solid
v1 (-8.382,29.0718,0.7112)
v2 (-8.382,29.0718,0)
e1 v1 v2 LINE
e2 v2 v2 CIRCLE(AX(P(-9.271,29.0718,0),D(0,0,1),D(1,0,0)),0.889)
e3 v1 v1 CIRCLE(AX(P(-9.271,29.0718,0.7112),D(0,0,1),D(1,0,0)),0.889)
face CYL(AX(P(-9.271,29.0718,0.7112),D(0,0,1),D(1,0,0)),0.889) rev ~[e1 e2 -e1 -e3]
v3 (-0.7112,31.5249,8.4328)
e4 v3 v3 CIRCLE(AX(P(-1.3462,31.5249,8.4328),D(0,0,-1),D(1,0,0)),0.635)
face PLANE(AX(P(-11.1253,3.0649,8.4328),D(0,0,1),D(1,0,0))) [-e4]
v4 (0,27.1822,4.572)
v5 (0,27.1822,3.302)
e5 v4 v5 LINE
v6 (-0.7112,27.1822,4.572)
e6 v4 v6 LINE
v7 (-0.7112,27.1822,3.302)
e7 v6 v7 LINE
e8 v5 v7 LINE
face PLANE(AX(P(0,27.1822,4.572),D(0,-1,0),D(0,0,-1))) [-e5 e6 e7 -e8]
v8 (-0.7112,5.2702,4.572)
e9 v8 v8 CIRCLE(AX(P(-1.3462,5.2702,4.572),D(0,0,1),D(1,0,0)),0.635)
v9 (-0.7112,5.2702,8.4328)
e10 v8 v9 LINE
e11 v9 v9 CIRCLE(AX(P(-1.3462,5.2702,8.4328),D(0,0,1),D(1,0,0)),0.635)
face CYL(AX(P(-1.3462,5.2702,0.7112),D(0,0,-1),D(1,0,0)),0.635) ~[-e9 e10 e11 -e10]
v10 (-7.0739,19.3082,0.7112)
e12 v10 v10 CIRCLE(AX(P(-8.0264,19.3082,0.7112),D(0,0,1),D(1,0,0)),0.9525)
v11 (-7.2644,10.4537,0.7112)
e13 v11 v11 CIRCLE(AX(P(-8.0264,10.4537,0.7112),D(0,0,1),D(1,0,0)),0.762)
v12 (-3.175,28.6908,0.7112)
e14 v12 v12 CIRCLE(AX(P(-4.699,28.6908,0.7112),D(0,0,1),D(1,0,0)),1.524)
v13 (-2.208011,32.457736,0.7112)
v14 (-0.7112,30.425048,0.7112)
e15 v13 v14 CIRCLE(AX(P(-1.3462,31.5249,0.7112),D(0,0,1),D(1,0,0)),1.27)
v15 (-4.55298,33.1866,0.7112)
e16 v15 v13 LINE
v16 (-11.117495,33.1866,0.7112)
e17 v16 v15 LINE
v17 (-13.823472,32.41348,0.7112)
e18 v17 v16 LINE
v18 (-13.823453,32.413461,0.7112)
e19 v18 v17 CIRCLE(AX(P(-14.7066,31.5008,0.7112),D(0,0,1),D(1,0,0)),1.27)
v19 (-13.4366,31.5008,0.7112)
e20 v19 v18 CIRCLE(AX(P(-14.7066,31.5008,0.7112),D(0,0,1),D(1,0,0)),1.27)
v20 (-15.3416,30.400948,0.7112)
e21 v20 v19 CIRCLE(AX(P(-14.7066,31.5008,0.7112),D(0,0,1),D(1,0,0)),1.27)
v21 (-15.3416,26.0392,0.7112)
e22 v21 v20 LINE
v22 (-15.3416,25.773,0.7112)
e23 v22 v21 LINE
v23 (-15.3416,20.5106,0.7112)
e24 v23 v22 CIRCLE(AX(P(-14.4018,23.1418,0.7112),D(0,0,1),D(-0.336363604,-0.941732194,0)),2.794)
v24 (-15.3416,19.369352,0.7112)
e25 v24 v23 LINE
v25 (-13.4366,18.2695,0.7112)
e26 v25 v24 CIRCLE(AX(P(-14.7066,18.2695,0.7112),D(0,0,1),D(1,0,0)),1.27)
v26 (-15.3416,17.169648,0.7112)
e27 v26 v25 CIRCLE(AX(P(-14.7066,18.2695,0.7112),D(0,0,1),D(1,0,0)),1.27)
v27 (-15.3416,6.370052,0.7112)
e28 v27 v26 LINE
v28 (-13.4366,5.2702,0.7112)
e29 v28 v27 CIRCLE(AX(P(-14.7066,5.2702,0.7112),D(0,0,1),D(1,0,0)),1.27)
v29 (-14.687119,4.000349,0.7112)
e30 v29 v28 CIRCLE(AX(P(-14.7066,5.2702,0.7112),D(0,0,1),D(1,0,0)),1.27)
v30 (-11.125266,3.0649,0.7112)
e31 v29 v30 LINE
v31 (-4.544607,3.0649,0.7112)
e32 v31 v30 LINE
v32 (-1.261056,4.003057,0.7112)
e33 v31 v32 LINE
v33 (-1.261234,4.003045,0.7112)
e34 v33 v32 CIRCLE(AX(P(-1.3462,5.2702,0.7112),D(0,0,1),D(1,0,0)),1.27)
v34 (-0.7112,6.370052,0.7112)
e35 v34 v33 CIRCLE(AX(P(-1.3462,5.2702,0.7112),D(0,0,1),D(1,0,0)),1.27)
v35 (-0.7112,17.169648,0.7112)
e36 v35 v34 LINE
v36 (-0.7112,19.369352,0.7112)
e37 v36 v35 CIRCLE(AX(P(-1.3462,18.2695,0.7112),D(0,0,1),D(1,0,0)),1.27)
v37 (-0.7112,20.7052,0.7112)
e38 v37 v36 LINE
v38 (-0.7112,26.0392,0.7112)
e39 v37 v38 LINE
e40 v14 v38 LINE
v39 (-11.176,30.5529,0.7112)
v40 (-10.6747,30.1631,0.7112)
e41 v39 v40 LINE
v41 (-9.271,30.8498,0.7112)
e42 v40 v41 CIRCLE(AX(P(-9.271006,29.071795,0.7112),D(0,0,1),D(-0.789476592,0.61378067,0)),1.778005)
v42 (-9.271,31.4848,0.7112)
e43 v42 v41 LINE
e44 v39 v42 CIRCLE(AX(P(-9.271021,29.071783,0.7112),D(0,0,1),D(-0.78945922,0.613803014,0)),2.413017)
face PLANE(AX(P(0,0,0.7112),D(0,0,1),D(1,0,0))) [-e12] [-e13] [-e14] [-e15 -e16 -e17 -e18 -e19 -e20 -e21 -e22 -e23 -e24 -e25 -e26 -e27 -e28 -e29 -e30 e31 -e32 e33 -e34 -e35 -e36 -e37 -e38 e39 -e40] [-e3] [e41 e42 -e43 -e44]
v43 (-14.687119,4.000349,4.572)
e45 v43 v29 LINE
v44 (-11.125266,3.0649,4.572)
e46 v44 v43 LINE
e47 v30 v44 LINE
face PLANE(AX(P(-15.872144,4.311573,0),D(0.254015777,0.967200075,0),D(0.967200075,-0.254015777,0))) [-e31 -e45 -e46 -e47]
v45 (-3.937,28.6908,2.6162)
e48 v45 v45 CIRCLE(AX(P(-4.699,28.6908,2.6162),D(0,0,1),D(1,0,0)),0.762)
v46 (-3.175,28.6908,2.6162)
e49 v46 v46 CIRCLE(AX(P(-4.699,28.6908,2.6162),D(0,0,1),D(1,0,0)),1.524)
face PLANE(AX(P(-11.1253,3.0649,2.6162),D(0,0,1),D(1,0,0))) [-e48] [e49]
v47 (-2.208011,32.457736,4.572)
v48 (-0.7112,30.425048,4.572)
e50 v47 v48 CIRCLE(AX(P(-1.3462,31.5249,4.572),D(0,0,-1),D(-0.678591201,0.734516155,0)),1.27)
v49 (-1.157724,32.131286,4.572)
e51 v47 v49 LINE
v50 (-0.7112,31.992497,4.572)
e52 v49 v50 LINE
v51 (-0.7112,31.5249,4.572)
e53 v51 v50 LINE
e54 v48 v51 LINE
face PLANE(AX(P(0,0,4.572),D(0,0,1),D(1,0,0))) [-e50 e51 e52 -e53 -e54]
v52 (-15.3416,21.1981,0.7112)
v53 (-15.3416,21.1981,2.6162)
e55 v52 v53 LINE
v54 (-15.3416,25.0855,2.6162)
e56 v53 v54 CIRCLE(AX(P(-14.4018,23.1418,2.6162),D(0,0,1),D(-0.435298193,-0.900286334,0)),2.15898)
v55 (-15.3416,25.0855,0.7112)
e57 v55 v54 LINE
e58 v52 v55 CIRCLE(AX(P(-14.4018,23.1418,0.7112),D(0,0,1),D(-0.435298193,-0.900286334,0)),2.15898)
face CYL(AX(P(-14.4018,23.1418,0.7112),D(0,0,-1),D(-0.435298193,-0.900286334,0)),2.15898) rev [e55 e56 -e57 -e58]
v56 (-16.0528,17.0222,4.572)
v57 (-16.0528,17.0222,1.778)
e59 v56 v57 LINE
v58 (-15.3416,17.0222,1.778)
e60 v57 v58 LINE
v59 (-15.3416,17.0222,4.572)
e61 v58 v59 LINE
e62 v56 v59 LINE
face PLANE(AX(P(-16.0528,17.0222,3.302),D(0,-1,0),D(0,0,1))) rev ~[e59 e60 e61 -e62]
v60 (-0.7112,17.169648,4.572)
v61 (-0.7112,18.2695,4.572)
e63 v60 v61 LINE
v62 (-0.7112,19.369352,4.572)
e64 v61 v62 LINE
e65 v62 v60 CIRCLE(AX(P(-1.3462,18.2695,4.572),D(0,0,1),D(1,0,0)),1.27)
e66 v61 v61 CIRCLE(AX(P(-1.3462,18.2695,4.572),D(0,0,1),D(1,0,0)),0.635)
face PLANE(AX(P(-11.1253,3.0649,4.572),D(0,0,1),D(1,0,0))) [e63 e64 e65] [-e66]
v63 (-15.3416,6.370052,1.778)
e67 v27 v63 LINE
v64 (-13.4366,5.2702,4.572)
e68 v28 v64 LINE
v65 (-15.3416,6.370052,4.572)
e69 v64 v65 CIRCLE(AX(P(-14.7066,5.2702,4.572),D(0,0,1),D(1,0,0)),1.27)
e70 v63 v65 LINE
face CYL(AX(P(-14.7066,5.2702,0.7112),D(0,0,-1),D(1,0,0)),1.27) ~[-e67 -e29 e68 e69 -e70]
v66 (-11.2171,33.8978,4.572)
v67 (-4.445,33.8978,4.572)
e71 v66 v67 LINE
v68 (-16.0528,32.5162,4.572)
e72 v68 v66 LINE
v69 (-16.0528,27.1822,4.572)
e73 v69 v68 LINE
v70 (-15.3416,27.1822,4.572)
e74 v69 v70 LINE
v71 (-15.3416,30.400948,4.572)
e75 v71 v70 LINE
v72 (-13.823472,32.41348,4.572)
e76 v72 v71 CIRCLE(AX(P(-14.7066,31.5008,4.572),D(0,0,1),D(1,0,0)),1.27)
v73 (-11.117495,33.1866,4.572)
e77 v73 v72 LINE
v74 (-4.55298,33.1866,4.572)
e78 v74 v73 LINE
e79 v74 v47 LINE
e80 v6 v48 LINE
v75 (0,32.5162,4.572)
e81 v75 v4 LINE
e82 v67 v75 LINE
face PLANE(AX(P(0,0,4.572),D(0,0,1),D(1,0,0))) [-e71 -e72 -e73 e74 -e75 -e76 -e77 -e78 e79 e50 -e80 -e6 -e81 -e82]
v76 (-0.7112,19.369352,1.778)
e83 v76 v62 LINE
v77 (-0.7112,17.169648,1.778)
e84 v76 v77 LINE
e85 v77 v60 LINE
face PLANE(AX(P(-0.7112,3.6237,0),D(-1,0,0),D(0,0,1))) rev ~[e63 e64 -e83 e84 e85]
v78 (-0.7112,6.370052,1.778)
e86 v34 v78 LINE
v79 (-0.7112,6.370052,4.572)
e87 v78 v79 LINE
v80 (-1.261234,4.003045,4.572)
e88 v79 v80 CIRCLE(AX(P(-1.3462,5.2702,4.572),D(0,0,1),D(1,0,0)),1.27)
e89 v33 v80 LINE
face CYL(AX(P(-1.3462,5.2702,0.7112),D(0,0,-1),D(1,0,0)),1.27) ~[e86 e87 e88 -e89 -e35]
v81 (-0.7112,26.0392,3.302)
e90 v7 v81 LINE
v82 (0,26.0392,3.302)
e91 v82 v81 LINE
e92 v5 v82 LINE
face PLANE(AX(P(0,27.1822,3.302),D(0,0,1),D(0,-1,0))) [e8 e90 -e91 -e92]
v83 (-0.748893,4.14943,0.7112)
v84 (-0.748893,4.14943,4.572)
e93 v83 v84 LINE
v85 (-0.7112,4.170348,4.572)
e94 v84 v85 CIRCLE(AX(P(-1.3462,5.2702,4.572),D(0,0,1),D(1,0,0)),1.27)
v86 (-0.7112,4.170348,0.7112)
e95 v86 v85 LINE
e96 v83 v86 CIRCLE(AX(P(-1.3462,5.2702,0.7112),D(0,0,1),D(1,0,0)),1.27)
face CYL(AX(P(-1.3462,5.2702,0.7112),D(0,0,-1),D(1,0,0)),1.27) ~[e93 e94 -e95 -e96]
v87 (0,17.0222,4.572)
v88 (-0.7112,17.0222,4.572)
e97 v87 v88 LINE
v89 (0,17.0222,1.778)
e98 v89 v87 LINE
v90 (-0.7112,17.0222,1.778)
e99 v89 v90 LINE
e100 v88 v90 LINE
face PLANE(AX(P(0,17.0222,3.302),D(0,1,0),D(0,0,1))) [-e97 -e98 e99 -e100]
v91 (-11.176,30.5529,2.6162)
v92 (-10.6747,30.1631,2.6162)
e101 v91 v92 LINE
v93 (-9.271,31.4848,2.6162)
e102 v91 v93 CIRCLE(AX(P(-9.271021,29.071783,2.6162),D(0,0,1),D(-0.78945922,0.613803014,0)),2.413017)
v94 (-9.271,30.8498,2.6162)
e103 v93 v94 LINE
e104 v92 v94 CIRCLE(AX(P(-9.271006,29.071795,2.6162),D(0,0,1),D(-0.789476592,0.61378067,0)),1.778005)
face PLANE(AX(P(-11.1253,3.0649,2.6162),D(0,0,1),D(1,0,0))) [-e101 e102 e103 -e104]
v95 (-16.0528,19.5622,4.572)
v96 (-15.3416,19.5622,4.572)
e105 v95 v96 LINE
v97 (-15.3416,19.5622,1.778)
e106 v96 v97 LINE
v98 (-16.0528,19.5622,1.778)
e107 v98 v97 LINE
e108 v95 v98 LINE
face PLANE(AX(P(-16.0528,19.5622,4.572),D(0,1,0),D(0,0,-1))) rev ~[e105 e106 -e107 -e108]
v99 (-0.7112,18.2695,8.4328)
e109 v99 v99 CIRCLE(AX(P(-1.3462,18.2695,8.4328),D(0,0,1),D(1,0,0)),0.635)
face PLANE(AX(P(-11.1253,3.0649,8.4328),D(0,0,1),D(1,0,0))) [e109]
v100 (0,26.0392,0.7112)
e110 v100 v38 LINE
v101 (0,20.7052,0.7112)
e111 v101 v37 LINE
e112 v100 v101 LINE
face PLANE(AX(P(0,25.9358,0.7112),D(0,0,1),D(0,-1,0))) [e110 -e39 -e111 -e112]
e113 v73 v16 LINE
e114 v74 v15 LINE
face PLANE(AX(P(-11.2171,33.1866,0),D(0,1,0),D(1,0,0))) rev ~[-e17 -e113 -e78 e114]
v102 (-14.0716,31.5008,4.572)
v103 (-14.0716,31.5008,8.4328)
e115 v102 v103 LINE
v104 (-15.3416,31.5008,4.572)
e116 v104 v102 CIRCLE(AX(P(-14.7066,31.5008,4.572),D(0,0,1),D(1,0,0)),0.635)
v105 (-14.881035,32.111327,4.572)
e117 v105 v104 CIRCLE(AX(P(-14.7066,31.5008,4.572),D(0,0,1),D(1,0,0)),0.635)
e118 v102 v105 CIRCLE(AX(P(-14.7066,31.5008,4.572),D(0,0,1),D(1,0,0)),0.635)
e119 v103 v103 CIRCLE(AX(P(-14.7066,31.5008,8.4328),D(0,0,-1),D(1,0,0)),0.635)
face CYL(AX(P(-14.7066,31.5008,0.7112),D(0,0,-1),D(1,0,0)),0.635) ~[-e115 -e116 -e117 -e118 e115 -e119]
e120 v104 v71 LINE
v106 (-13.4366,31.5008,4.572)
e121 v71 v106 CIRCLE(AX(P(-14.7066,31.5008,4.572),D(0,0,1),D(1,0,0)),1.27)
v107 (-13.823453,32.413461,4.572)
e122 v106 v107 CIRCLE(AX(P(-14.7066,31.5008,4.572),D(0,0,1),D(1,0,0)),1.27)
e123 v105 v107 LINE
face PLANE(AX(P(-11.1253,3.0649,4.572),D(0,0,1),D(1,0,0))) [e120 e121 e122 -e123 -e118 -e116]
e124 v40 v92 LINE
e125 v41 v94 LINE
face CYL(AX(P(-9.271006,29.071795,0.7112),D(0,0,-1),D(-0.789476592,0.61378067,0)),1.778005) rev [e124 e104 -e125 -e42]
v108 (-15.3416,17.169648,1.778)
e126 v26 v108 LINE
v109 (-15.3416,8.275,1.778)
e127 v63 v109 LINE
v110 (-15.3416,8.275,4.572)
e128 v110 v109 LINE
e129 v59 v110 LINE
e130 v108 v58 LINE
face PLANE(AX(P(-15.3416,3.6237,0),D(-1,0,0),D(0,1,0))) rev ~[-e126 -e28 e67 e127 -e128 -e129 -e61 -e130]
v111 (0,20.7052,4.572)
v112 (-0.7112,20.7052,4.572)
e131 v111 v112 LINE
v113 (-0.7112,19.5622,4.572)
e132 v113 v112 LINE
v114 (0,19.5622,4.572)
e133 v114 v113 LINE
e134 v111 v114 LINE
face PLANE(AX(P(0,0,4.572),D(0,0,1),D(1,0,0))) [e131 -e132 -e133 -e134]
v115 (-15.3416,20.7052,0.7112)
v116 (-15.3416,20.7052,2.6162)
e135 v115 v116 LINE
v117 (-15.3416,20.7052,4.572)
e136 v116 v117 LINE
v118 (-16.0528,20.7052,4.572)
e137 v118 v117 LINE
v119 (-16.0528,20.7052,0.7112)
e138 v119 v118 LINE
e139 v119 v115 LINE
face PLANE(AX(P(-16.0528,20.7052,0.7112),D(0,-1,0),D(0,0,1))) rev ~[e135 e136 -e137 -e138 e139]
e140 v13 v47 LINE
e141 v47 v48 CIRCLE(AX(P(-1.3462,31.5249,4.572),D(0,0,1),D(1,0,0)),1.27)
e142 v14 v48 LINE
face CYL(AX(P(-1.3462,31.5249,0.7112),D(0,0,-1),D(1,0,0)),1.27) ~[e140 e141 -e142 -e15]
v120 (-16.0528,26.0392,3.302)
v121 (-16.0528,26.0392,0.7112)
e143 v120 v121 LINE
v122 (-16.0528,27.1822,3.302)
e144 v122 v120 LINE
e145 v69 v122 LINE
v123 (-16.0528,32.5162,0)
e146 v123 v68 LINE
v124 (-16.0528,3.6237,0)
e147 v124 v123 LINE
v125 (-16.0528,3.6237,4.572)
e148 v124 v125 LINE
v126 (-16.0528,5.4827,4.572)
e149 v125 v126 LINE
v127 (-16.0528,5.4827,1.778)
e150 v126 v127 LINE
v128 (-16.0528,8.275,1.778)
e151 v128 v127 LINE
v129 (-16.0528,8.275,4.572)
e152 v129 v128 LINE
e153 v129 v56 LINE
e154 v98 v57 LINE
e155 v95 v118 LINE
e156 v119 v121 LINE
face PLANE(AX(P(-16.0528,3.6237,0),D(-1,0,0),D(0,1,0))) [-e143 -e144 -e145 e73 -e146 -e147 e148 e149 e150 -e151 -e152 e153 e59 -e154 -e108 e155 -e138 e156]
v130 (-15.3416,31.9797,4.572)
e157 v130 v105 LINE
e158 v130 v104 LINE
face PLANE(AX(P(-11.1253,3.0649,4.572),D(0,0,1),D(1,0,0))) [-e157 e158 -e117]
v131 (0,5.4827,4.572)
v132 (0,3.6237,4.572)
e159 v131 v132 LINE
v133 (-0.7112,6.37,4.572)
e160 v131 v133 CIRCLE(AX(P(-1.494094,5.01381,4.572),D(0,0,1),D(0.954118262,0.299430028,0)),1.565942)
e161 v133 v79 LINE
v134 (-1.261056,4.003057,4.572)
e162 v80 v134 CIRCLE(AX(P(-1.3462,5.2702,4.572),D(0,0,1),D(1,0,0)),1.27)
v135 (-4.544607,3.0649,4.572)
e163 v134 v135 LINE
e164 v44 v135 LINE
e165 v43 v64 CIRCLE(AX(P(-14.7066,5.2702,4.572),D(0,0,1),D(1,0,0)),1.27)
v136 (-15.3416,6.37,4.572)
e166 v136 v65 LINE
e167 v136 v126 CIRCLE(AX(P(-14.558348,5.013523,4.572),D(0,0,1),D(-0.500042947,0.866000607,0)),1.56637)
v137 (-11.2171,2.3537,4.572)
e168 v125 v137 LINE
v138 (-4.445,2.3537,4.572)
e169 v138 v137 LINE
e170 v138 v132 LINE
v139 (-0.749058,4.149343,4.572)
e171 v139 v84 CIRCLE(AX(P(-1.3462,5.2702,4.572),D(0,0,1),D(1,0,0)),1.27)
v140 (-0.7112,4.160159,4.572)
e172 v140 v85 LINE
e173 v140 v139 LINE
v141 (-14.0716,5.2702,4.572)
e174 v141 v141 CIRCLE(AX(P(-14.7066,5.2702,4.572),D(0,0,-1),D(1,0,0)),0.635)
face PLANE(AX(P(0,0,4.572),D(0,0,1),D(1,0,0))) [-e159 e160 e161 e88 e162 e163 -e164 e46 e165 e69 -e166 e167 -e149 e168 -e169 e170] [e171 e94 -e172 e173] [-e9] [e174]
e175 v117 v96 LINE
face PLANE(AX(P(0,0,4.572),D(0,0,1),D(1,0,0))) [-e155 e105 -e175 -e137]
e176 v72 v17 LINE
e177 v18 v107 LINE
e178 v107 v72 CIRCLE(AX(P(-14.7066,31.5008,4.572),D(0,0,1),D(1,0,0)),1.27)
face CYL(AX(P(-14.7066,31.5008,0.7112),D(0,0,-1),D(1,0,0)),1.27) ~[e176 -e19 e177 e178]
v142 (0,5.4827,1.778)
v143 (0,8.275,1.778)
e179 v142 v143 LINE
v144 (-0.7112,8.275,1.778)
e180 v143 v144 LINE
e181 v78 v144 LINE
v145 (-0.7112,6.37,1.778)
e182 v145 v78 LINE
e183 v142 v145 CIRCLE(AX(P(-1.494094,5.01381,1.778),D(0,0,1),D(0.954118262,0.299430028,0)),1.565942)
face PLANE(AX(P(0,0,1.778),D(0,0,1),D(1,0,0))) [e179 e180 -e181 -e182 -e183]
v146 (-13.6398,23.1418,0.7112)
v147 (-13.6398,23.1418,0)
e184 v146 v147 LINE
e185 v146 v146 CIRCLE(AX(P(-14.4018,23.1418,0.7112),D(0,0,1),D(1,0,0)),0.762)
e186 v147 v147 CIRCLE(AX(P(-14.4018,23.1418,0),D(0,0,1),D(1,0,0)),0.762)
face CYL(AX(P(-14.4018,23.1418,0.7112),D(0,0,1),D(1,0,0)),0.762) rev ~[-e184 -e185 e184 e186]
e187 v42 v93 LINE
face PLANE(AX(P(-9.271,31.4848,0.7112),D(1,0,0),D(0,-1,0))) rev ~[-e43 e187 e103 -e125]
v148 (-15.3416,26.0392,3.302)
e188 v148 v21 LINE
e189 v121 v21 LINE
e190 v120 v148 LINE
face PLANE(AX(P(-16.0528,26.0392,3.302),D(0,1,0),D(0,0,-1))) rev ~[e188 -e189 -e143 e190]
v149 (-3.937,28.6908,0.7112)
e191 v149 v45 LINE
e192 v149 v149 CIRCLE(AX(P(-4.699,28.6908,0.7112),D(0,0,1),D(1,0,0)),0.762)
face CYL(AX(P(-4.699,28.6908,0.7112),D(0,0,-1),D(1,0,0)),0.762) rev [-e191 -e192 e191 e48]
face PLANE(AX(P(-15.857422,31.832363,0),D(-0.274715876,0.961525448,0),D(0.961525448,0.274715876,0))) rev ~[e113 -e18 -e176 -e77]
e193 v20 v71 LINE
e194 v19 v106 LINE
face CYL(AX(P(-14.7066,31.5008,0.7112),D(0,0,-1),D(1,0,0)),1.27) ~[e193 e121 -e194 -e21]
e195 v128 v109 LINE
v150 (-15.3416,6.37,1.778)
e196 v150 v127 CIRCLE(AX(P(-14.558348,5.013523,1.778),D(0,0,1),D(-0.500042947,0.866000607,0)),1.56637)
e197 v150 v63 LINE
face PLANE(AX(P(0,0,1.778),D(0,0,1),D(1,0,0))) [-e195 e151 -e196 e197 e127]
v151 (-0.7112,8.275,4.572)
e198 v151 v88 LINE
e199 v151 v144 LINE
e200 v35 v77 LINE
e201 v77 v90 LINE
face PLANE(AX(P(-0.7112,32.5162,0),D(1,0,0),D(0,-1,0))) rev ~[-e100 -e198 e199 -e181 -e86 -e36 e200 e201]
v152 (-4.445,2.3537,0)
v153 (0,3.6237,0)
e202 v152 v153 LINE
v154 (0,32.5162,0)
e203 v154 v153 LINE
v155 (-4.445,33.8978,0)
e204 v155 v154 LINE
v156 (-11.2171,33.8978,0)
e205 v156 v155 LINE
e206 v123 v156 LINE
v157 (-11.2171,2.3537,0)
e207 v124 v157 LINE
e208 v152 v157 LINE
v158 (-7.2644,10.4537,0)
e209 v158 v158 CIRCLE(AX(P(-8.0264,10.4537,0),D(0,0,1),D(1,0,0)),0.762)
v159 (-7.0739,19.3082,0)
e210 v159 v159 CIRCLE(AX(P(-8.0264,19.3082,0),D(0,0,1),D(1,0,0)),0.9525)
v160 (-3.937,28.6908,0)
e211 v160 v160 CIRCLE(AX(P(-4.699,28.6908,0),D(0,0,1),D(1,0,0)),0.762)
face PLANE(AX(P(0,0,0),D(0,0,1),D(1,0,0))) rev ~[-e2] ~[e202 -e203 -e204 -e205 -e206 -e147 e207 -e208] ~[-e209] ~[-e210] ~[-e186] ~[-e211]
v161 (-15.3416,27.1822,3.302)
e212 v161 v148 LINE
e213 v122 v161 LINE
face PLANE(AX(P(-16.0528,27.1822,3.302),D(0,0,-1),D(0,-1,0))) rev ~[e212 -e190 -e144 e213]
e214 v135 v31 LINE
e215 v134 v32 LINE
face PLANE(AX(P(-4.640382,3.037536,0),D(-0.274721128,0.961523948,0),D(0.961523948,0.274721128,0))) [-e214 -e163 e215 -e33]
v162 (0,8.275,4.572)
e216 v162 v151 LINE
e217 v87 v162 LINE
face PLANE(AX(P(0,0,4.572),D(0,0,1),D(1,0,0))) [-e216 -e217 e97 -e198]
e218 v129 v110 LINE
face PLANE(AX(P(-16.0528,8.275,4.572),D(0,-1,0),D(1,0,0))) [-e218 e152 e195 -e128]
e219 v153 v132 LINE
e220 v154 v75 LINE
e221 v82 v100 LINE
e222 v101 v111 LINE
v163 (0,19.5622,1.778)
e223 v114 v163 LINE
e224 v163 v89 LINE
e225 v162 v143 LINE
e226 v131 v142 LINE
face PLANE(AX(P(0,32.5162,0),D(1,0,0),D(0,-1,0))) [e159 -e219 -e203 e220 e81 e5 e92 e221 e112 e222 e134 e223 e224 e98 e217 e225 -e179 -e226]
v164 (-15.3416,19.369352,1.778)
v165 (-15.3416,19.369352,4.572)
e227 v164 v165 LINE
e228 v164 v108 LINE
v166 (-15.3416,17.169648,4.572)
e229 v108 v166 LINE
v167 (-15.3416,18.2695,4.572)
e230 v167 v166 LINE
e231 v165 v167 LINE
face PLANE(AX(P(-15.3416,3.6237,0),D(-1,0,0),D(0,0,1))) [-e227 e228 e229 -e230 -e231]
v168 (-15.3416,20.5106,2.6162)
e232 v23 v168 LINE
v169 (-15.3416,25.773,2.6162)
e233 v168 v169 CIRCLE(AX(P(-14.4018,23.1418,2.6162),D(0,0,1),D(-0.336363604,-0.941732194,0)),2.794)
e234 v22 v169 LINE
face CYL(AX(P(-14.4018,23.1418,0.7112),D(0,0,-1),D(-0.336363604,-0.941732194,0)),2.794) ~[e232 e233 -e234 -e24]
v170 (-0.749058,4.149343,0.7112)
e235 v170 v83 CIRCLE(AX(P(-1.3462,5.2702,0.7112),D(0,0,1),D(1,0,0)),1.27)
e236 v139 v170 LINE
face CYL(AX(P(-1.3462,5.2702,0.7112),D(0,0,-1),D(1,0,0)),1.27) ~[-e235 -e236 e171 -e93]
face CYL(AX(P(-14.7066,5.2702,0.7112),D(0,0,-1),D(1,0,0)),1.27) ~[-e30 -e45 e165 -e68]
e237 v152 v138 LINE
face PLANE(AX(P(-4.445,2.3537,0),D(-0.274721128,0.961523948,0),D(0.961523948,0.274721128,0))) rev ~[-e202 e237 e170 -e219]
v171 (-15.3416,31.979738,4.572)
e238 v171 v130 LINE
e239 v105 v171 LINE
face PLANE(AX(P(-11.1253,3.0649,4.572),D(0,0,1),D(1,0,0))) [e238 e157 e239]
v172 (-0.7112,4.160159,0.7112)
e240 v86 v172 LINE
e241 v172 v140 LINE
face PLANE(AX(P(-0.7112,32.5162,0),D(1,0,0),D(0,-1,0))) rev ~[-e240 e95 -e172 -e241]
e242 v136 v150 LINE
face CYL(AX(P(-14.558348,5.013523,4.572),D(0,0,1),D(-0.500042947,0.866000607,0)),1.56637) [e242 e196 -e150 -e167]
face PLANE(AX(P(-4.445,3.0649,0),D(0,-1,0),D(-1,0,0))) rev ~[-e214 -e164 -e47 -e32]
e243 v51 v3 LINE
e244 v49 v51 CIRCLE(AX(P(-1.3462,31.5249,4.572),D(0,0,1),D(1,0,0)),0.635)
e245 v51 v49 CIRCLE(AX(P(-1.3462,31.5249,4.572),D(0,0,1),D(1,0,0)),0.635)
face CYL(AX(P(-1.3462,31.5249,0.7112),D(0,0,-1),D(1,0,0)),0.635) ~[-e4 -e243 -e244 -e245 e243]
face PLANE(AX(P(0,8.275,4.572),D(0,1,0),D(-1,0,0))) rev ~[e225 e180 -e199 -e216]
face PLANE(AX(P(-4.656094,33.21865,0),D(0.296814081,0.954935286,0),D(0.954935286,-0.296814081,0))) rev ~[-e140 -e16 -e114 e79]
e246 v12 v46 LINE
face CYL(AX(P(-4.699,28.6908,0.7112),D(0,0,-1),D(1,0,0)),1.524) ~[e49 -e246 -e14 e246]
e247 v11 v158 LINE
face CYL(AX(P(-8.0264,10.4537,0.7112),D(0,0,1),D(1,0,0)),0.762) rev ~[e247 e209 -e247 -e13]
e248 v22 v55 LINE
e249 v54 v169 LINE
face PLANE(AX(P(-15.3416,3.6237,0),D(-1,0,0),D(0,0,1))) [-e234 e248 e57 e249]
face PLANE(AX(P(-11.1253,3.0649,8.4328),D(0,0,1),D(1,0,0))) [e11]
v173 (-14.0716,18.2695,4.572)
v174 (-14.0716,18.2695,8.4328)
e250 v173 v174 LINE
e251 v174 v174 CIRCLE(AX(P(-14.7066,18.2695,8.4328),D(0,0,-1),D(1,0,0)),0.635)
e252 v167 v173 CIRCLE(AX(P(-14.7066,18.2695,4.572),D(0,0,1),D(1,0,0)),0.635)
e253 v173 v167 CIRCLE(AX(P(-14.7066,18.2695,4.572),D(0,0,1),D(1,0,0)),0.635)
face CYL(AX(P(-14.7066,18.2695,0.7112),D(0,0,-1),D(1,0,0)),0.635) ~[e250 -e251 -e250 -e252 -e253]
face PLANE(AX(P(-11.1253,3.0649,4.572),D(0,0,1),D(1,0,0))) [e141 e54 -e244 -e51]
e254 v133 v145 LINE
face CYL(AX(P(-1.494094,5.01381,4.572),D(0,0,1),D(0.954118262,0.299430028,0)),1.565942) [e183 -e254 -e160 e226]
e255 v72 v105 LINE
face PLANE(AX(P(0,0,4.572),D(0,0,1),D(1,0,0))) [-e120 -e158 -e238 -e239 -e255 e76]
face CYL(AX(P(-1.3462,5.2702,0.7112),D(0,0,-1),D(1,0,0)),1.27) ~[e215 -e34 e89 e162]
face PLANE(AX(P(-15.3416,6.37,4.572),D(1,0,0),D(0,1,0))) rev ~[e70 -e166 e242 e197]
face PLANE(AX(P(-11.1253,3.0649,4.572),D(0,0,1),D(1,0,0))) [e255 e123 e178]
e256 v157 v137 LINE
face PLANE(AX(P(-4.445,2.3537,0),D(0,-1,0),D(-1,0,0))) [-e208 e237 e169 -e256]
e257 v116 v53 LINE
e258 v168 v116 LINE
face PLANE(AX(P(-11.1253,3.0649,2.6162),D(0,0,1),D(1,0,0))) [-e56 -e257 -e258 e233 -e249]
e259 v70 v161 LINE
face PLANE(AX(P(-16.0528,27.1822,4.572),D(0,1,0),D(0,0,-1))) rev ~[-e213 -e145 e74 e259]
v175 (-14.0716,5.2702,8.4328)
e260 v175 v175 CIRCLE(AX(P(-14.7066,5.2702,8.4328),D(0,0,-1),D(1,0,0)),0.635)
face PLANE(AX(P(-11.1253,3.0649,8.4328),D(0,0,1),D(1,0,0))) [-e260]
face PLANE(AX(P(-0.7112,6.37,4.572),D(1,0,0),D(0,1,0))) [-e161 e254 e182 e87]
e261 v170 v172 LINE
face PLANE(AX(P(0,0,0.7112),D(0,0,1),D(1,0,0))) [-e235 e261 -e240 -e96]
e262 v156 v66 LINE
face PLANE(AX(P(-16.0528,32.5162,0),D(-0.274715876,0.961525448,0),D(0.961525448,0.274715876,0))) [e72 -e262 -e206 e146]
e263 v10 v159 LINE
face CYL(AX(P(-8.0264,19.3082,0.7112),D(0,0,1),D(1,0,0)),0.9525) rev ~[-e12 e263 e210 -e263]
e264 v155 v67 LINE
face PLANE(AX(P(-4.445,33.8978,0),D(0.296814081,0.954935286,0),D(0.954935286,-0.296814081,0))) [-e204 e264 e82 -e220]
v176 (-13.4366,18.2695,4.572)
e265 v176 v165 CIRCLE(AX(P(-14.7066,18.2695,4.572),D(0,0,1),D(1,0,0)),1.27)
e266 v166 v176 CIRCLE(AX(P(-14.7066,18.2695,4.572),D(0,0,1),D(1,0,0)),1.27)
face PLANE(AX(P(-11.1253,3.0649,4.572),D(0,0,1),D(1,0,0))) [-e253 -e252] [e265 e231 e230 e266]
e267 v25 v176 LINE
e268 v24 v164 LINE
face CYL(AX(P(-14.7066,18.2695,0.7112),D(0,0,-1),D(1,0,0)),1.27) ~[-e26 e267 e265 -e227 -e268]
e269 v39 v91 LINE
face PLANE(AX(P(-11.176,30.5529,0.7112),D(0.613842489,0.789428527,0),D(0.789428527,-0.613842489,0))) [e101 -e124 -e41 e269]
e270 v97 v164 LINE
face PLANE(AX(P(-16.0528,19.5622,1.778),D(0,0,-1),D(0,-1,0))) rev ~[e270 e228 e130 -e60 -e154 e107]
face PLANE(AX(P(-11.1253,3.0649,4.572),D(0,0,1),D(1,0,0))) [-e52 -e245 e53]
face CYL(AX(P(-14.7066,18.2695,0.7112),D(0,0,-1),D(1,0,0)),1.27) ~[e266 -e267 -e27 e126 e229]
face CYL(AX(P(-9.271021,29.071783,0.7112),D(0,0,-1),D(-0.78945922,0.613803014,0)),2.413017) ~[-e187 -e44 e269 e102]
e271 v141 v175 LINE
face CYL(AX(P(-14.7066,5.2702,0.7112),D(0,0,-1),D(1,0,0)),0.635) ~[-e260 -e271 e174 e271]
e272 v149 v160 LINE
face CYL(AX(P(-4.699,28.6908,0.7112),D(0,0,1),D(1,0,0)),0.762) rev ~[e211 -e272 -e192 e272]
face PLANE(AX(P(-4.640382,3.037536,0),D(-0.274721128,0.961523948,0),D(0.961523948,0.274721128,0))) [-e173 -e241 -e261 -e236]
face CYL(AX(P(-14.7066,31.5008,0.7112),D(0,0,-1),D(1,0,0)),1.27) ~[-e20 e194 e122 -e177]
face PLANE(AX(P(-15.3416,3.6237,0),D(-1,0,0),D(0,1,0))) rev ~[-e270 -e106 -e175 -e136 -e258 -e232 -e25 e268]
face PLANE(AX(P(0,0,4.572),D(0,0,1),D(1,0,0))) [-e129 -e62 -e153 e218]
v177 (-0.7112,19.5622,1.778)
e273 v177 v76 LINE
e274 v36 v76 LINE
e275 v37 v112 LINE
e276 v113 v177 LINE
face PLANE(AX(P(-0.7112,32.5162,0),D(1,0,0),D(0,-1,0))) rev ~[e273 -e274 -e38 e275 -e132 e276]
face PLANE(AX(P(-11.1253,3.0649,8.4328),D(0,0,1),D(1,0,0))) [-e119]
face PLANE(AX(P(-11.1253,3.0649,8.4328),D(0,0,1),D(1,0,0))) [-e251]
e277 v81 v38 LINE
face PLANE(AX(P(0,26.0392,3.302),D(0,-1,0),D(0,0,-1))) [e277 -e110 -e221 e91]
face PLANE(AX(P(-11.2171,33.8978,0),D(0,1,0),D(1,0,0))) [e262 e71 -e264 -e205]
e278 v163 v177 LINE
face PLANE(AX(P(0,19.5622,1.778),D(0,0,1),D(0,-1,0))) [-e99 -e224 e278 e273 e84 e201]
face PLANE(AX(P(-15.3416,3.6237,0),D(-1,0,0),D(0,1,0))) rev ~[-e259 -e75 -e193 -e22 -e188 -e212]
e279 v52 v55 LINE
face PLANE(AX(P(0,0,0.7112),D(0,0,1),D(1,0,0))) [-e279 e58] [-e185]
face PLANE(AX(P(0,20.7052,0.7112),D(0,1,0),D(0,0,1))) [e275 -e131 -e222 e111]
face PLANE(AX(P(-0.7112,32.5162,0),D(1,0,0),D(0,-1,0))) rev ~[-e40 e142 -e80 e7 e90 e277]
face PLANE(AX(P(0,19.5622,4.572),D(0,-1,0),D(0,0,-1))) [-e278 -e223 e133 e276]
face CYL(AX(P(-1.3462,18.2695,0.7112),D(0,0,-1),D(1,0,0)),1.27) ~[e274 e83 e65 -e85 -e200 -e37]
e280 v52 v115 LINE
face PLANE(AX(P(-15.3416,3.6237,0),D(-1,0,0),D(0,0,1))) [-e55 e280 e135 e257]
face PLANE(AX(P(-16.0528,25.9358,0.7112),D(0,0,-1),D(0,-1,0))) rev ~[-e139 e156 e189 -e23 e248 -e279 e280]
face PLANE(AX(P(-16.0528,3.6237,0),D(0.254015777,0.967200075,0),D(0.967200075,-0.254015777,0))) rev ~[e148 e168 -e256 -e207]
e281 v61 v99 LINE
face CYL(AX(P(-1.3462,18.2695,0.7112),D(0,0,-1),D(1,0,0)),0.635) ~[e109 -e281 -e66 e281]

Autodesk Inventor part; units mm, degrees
ref_plane "YZ Plane" through (0, 0, 0) normal (1, 0, 0) x (0, 1, 0)
ref_plane "XZ Plane" through (0, 0, 0) normal (0, 1, 0) x (-1, 0, 0)
ref_plane "XY Plane" through (0, 0, 0) normal (0, 0, 1) x (1, 0, 0)
sketch "Sketch1" plane through (0, 0, 0) normal (0, 0, 1) x (1, 0, 0)
  line L0 (-4.445, 2.3537) -> (-11.2171, 2.3537)
  line L1 (-16.0528, 3.6237) -> (-16.0528, 32.5162)
  line L2 (-11.2171, 33.8978) -> (-4.445, 33.8978)
  line L3 (0, 32.5162) -> (0, 3.6237)
  line L4 (-16.0528, 32.5162) -> (-11.2171, 33.8978)
  line L5 (-4.445, 33.8978) -> (0, 32.5162)
  line L6 (-16.0528, 3.6237) -> (-11.2171, 2.3537)
  line L7 (-4.445, 2.3537) -> (0, 3.6237)
  point P0 (0, 0)
  dimension "d13" = 28.8925
  dimension "d14" = 16.0528
  dimension "d15" = 28.8925
  dimension "d16" = 1.27
  dimension "d17" = 4.445
extrude "Extrusion1" add sketch "Sketch1" along normal blind 4.572
shell "Shell1" thickness 0.7112 removed faces 1 at (-8.9597, 23.3831, 4.572)
sketch "Sketch2" plane through (-11.1253, 3.0649, 0.7112) normal (0, 0, 1) x (1, 0, 0)
  circle A0 centre (3.0989, 7.3888) radius 0.762
  line L0 (-0.0918, -0.7112) -> (6.6803, -0.7112) projected
  line L1 (10.4141, 28.9276) -> (10.4141, 1.0953) projected
  line L2 (-4.2163, 1.1073) -> (-4.2163, 28.9148) projected
  circle A1 centre (3.0989, 16.2433) radius 0.9525
  line L3 (11.1253, 0.5588) -> (11.1253, 29.4513) projected
  line L4 (6.6803, -0.7112) -> (11.1253, 0.5588) projected
  line L5 (6.6803, 30.8329) -> (-0.0918, 30.8329) projected
  line L6 (-4.9275, 29.4513) -> (-4.9275, 0.5588) projected
  line L7 (3.0989, 30.8329) -> (3.0989, 0) construction
  line L8 (6.5806, 0) -> (0, 0) projected
  circle A2 centre (-3.2765, 20.0769) radius 0.762
  circle A3 centre (1.8543, 26.0069) radius 0.889
  circle A4 centre (6.4263, 25.6259) radius 0.762
  circle A5 centre (6.4263, 25.6259) radius 1.524
  arc A6 (0.4506, 27.0982) -> (1.8543, 27.7849) centre (1.8543, 26.0069) ccw
  arc A7 (-0.0507, 27.488) -> (1.8543, 28.4199) centre (1.8543, 26.0069) ccw
  line L9 (0.0078, 30.1217) -> (6.5723, 30.1217) projected
  line L10 (1.8543, 28.4199) -> (1.8543, 27.7849)
  line L11 (-0.0507, 27.488) -> (0.4506, 27.0982)
  line L12 (0.4506, 27.0982) -> (1.8456, 26.0137) construction
  arc A8 (-4.2163, 17.4457) -> (-4.2163, 22.7081) centre (-3.2765, 20.0769) ccw
  arc A9 (-4.2163, 18.1332) -> (-4.2163, 22.0206) centre (-3.2765, 20.0769) ccw
  point P0 (11.1253, -3.0649)
  point P1 (3.0989, 15.2908)
  point P2 (9.4743, 0.0871)
  dimension "d71" = 1.905
  dimension "d18" = 1.524
  dimension "d19" = 8.1
  dimension "d53" = 7.3152
  dimension "d54" = 14.6304
  dimension "d72" = 16.002
  dimension "d93" = 7.3152
  dimension "d98" = 3.556
  dimension "d99" = 0.635
  dimension "d100" = 4.572
  dimension "d101" = 0.381
  dimension "d102" = 3.9878
  dimension "d103" = 4.4958
  dimension "d104" = 1.905
  dimension "d105" = 2.032
  dimension "d106" = 0.635
sketch "Sketch3" plane through (-11.1253, 3.0649, 0.7112) normal (0, 0, 1) x (1, 0, 0)
  line L0 (6.5806, 0) -> (10.4141, 1.0953) projected
  line L1 (-4.2163, 1.1073) -> (0, 0) projected
  line L2 (10.4141, 28.9276) -> (10.4141, 1.0953) projected
  line L3 (-4.2163, 28.9148) -> (-4.2163, 1.1073) projected
  line L4 (6.5806, 0) -> (0, 0) construction
  circle A0 centre (9.7791, 15.2046) radius 0.635
  circle A1 centre (9.7791, 15.2046) radius 1.27
  circle A2 centre (-3.5813, 15.2046) radius 0.635
  circle A3 centre (-3.5813, 15.2046) radius 1.27
  line L5 (-4.2163, 1.1073) -> (-4.2163, 28.9148) projected
  circle A4 centre (-3.5813, 2.2053) radius 0.635
  circle A5 centre (-3.5813, 2.2053) radius 1.27
  circle A6 centre (9.7791, 2.2053) radius 0.635
  circle A7 centre (9.7791, 2.2053) radius 1.27
  circle A8 centre (-3.5813, 28.4359) radius 0.635
  circle A9 centre (-3.5813, 28.4359) radius 1.27
  circle A10 centre (9.7791, 28.46) radius 0.635
  circle A11 centre (9.7791, 28.46) radius 1.27
  line L6 (6.5723, 30.1217) -> (10.4141, 28.9276) projected
  line L7 (-4.2163, 28.9148) -> (0.0078, 30.1217) projected
  point P0 (11.1253, -3.0649)
  point P1 (10.4141, 16.3045)
  point P2 (10.4141, 14.1048)
  point P3 (10.4141, 15.2046)
  point P4 (-4.2163, 16.3045)
  point P5 (-4.2163, 15.2046)
  point P6 (-4.2163, 14.1048)
  point P7 (10.4141, 2.2053)
  point P8 (10.4141, 3.3052)
  point P9 (9.8642, 0.9382)
  point P10 (10.3762, 1.0844)
  point P11 (10.4141, 1.1055)
  point P12 (-3.5619, 0.9355)
  point P13 (-4.2163, 3.3052)
  point P14 (-4.2163, 2.2053)
  point P15 (9.9675, 29.0664)
  point P16 (8.9172, 29.3928)
  point P17 (10.4141, 27.3602)
  point P18 (10.4141, 28.46)
  point P19 (-2.6983, 29.3486)
  point P20 (-3.7558, 29.0464)
  point P21 (-4.2163, 28.4359)
  point P22 (-4.2163, 27.336)
  dimension "d57" = 1.27
  dimension "d58" = 0.635
  dimension "d59" = 1.27
  dimension "d60" = 0.635
  dimension "d63" = 1.27
  dimension "d64" = 0.635
  dimension "d65" = 1.27
  dimension "d66" = 0.635
  dimension "d67" = 1.27
  dimension "d68" = 0.635
  dimension "d69" = 1.27
  dimension "d70" = 0.635
extrude "Extrusion10" add sketch "Sketch3" along normal blind 7.7216 contours A6 | A0 | A10 | A4 | A2 | A8
extrude "Extrusion11" cut sketch "Sketch2" against normal up to surface (0.7112 mm away) contours A0 | A1 | A2 | A3 | A4
extrude "Extrusion12" add sketch "Sketch2" along normal blind 1.905 contours L2 A9 A8 | A5 | A6 L10 A7 L11
sketch "Sketch5" plane through (-16.0528, 3.6237, 0) normal (-1, 0, 0) x (0, 0, 1)
  line L0 (4.572, 14.6458) -> (4.572, 27.8771) projected
  line L1 (4.572, 23.5585) -> (3.302, 23.5585)
  line L2 (3.302, 13.3985) -> (4.572, 13.3985)
  line L3 (0, 28.8925) -> (4.572, 28.8925) projected
  line L4 (3.302, 22.4155) -> (0.7112, 22.4155)
  line L5 (1.778, 13.3985) -> (3.302, 13.3985)
  line L6 (1.778, 15.9385) -> (1.778, 13.3985)
  line L7 (4.572, 15.9385) -> (1.778, 15.9385)
  line L8 (0.7112, 17.0815) -> (4.572, 17.0815)
  line L9 (3.302, 23.5585) -> (3.302, 22.4155)
  line L10 (4.572, 13.3985) -> (4.572, 15.9385)
  line L11 (4.572, 17.0815) -> (4.572, 23.5585)
  line L12 (0.7112, 22.3121) -> (0.7112, 16.7241) projected
  line L13 (0.7112, 17.0815) -> (0.7112, 22.4155)
  point P0 (0, -3.6237)
  point P1 (0.7112, 22.1493)
  point P2 (0.7112, 16.8869)
  dimension "d109" = 5.334
  dimension "d114" = 1.143
extrude "Extrusion14" add sketch "Sketch3" along normal up to surface (3.8608 mm away) contours A6 | A7 L2 L0 | A11 L6 A10 L2 | L2 L6 A11 | A0 | A1 L2 | L0 A7 | A7 L2 | A10 L6 L2 | A10 | A4 | L3 A5 L1 | A5 L3 | A9 L7 L3 | L3 A8 L7 A9 | A3 L3 | A2 | L3 A3 | L1 A5 | L3 L7 A8 | A8 picked at (10.0816, 1.2114) picked at (10.1817, 14.2329)
extrude "Extrusion13" cut sketch "Sketch5" against normal up to surface (0.7112 mm away)
extrude "Extrusion15" cut sketch "Sketch5" along normal up to surface (0.7112 mm away) from surface at -16.0528
sketch "Sketch6" plane through (0, 0, 4.572) normal (0, 0, 1) x (1, 0, 0)
  line L0 (-0.7112, 6.37) -> (-0.7112, 17.1697) projected
  line L1 (0, 8.275) -> (-0.7112, 8.275)
  line L2 (-0.7112, 8.275) -> (-0.7112, 6.37)
  line L3 (0, 6.37) -> (0, 8.275)
  arc A0 (-0.7112, 6.37) -> (-1.261, 4.003) centre (-1.3462, 5.2702) ccw projected
  circle A1 centre (-14.7066, 5.2702) radius 0.635 projected
  arc A2 (-0.7491, 4.1493) -> (-0.7112, 4.1703) centre (-1.3462, 5.2702) ccw projected
  line L4 (-0.7112, 4.1703) -> (-0.7112, 4.1601) projected
  line L5 (-0.7112, 4.1601) -> (-0.7491, 4.1493) projected
  circle A3 centre (-1.3462, 5.2702) radius 0.635 projected
  line L6 (0, 17.0222) -> (-0.7112, 17.0222) projected
  line L7 (-0.7112, 17.0222) -> (-0.7112, 6.37) projected
  arc A4 (-0.7112, 6.37) -> (-1.261, 4.003) centre (-1.3462, 5.2702) ccw projected
  line L8 (-1.261, 4.003) -> (-4.5446, 3.0649) projected
  line L9 (-4.5446, 3.0649) -> (-11.1253, 3.0649) projected
  line L10 (-11.1253, 3.0649) -> (-14.6871, 4.0003) projected
  arc A5 (-14.6871, 4.0003) -> (-15.3416, 6.37) centre (-14.7066, 5.2702) ccw projected
  line L11 (-15.3416, 6.37) -> (-15.3416, 17.0222) projected
  line L12 (-15.3416, 17.0222) -> (-16.0528, 17.0222) projected
  line L13 (-16.0528, 17.0222) -> (-16.0528, 3.6237) projected
  line L14 (-16.0528, 3.6237) -> (-11.2171, 2.3537) projected
  line L15 (-11.2171, 2.3537) -> (-4.445, 2.3537) projected
  line L16 (-4.445, 2.3537) -> (0, 3.6237) projected
  line L17 (0, 3.6237) -> (0, 17.0222) projected
  arc A6 (-0.7112, 6.37) -> (-1.261, 4.003) centre (-1.3462, 5.2702) ccw construction
  circle A7 centre (-1.3462, 5.2702) radius 1.27 construction
  arc A8 (0, 5.4827) -> (-0.7112, 6.37) centre (-1.4943, 5.0137) ccw
  line L18 (0, 6.37) -> (0, 5.4827)
  line L19 (-8.0264, 33.8978) -> (-8.0264, 3.0649) construction
  line L20 (-16.0528, 8.275) -> (-15.3416, 8.275)
  line L21 (-16.0528, 6.37) -> (-16.0528, 8.275)
  line L22 (-15.3416, 8.275) -> (-15.3416, 6.37)
  line L23 (-16.0528, 5.4827) -> (-16.0528, 8.275)
  arc A9 (-15.3416, 6.37) -> (-16.0528, 5.4827) centre (-14.5585, 5.0137) ccw
  line L24 (-16.0528, 6.37) -> (-16.0528, 5.4827)
  point P0 (0, 0)
extrude "Extrusion16" cut sketch "Sketch6" against normal up to surface (2.794 mm away) contours L0 L1 L3 L17 A8 | A9 L13 L20 L11
properties part number "Back half gearbox"
